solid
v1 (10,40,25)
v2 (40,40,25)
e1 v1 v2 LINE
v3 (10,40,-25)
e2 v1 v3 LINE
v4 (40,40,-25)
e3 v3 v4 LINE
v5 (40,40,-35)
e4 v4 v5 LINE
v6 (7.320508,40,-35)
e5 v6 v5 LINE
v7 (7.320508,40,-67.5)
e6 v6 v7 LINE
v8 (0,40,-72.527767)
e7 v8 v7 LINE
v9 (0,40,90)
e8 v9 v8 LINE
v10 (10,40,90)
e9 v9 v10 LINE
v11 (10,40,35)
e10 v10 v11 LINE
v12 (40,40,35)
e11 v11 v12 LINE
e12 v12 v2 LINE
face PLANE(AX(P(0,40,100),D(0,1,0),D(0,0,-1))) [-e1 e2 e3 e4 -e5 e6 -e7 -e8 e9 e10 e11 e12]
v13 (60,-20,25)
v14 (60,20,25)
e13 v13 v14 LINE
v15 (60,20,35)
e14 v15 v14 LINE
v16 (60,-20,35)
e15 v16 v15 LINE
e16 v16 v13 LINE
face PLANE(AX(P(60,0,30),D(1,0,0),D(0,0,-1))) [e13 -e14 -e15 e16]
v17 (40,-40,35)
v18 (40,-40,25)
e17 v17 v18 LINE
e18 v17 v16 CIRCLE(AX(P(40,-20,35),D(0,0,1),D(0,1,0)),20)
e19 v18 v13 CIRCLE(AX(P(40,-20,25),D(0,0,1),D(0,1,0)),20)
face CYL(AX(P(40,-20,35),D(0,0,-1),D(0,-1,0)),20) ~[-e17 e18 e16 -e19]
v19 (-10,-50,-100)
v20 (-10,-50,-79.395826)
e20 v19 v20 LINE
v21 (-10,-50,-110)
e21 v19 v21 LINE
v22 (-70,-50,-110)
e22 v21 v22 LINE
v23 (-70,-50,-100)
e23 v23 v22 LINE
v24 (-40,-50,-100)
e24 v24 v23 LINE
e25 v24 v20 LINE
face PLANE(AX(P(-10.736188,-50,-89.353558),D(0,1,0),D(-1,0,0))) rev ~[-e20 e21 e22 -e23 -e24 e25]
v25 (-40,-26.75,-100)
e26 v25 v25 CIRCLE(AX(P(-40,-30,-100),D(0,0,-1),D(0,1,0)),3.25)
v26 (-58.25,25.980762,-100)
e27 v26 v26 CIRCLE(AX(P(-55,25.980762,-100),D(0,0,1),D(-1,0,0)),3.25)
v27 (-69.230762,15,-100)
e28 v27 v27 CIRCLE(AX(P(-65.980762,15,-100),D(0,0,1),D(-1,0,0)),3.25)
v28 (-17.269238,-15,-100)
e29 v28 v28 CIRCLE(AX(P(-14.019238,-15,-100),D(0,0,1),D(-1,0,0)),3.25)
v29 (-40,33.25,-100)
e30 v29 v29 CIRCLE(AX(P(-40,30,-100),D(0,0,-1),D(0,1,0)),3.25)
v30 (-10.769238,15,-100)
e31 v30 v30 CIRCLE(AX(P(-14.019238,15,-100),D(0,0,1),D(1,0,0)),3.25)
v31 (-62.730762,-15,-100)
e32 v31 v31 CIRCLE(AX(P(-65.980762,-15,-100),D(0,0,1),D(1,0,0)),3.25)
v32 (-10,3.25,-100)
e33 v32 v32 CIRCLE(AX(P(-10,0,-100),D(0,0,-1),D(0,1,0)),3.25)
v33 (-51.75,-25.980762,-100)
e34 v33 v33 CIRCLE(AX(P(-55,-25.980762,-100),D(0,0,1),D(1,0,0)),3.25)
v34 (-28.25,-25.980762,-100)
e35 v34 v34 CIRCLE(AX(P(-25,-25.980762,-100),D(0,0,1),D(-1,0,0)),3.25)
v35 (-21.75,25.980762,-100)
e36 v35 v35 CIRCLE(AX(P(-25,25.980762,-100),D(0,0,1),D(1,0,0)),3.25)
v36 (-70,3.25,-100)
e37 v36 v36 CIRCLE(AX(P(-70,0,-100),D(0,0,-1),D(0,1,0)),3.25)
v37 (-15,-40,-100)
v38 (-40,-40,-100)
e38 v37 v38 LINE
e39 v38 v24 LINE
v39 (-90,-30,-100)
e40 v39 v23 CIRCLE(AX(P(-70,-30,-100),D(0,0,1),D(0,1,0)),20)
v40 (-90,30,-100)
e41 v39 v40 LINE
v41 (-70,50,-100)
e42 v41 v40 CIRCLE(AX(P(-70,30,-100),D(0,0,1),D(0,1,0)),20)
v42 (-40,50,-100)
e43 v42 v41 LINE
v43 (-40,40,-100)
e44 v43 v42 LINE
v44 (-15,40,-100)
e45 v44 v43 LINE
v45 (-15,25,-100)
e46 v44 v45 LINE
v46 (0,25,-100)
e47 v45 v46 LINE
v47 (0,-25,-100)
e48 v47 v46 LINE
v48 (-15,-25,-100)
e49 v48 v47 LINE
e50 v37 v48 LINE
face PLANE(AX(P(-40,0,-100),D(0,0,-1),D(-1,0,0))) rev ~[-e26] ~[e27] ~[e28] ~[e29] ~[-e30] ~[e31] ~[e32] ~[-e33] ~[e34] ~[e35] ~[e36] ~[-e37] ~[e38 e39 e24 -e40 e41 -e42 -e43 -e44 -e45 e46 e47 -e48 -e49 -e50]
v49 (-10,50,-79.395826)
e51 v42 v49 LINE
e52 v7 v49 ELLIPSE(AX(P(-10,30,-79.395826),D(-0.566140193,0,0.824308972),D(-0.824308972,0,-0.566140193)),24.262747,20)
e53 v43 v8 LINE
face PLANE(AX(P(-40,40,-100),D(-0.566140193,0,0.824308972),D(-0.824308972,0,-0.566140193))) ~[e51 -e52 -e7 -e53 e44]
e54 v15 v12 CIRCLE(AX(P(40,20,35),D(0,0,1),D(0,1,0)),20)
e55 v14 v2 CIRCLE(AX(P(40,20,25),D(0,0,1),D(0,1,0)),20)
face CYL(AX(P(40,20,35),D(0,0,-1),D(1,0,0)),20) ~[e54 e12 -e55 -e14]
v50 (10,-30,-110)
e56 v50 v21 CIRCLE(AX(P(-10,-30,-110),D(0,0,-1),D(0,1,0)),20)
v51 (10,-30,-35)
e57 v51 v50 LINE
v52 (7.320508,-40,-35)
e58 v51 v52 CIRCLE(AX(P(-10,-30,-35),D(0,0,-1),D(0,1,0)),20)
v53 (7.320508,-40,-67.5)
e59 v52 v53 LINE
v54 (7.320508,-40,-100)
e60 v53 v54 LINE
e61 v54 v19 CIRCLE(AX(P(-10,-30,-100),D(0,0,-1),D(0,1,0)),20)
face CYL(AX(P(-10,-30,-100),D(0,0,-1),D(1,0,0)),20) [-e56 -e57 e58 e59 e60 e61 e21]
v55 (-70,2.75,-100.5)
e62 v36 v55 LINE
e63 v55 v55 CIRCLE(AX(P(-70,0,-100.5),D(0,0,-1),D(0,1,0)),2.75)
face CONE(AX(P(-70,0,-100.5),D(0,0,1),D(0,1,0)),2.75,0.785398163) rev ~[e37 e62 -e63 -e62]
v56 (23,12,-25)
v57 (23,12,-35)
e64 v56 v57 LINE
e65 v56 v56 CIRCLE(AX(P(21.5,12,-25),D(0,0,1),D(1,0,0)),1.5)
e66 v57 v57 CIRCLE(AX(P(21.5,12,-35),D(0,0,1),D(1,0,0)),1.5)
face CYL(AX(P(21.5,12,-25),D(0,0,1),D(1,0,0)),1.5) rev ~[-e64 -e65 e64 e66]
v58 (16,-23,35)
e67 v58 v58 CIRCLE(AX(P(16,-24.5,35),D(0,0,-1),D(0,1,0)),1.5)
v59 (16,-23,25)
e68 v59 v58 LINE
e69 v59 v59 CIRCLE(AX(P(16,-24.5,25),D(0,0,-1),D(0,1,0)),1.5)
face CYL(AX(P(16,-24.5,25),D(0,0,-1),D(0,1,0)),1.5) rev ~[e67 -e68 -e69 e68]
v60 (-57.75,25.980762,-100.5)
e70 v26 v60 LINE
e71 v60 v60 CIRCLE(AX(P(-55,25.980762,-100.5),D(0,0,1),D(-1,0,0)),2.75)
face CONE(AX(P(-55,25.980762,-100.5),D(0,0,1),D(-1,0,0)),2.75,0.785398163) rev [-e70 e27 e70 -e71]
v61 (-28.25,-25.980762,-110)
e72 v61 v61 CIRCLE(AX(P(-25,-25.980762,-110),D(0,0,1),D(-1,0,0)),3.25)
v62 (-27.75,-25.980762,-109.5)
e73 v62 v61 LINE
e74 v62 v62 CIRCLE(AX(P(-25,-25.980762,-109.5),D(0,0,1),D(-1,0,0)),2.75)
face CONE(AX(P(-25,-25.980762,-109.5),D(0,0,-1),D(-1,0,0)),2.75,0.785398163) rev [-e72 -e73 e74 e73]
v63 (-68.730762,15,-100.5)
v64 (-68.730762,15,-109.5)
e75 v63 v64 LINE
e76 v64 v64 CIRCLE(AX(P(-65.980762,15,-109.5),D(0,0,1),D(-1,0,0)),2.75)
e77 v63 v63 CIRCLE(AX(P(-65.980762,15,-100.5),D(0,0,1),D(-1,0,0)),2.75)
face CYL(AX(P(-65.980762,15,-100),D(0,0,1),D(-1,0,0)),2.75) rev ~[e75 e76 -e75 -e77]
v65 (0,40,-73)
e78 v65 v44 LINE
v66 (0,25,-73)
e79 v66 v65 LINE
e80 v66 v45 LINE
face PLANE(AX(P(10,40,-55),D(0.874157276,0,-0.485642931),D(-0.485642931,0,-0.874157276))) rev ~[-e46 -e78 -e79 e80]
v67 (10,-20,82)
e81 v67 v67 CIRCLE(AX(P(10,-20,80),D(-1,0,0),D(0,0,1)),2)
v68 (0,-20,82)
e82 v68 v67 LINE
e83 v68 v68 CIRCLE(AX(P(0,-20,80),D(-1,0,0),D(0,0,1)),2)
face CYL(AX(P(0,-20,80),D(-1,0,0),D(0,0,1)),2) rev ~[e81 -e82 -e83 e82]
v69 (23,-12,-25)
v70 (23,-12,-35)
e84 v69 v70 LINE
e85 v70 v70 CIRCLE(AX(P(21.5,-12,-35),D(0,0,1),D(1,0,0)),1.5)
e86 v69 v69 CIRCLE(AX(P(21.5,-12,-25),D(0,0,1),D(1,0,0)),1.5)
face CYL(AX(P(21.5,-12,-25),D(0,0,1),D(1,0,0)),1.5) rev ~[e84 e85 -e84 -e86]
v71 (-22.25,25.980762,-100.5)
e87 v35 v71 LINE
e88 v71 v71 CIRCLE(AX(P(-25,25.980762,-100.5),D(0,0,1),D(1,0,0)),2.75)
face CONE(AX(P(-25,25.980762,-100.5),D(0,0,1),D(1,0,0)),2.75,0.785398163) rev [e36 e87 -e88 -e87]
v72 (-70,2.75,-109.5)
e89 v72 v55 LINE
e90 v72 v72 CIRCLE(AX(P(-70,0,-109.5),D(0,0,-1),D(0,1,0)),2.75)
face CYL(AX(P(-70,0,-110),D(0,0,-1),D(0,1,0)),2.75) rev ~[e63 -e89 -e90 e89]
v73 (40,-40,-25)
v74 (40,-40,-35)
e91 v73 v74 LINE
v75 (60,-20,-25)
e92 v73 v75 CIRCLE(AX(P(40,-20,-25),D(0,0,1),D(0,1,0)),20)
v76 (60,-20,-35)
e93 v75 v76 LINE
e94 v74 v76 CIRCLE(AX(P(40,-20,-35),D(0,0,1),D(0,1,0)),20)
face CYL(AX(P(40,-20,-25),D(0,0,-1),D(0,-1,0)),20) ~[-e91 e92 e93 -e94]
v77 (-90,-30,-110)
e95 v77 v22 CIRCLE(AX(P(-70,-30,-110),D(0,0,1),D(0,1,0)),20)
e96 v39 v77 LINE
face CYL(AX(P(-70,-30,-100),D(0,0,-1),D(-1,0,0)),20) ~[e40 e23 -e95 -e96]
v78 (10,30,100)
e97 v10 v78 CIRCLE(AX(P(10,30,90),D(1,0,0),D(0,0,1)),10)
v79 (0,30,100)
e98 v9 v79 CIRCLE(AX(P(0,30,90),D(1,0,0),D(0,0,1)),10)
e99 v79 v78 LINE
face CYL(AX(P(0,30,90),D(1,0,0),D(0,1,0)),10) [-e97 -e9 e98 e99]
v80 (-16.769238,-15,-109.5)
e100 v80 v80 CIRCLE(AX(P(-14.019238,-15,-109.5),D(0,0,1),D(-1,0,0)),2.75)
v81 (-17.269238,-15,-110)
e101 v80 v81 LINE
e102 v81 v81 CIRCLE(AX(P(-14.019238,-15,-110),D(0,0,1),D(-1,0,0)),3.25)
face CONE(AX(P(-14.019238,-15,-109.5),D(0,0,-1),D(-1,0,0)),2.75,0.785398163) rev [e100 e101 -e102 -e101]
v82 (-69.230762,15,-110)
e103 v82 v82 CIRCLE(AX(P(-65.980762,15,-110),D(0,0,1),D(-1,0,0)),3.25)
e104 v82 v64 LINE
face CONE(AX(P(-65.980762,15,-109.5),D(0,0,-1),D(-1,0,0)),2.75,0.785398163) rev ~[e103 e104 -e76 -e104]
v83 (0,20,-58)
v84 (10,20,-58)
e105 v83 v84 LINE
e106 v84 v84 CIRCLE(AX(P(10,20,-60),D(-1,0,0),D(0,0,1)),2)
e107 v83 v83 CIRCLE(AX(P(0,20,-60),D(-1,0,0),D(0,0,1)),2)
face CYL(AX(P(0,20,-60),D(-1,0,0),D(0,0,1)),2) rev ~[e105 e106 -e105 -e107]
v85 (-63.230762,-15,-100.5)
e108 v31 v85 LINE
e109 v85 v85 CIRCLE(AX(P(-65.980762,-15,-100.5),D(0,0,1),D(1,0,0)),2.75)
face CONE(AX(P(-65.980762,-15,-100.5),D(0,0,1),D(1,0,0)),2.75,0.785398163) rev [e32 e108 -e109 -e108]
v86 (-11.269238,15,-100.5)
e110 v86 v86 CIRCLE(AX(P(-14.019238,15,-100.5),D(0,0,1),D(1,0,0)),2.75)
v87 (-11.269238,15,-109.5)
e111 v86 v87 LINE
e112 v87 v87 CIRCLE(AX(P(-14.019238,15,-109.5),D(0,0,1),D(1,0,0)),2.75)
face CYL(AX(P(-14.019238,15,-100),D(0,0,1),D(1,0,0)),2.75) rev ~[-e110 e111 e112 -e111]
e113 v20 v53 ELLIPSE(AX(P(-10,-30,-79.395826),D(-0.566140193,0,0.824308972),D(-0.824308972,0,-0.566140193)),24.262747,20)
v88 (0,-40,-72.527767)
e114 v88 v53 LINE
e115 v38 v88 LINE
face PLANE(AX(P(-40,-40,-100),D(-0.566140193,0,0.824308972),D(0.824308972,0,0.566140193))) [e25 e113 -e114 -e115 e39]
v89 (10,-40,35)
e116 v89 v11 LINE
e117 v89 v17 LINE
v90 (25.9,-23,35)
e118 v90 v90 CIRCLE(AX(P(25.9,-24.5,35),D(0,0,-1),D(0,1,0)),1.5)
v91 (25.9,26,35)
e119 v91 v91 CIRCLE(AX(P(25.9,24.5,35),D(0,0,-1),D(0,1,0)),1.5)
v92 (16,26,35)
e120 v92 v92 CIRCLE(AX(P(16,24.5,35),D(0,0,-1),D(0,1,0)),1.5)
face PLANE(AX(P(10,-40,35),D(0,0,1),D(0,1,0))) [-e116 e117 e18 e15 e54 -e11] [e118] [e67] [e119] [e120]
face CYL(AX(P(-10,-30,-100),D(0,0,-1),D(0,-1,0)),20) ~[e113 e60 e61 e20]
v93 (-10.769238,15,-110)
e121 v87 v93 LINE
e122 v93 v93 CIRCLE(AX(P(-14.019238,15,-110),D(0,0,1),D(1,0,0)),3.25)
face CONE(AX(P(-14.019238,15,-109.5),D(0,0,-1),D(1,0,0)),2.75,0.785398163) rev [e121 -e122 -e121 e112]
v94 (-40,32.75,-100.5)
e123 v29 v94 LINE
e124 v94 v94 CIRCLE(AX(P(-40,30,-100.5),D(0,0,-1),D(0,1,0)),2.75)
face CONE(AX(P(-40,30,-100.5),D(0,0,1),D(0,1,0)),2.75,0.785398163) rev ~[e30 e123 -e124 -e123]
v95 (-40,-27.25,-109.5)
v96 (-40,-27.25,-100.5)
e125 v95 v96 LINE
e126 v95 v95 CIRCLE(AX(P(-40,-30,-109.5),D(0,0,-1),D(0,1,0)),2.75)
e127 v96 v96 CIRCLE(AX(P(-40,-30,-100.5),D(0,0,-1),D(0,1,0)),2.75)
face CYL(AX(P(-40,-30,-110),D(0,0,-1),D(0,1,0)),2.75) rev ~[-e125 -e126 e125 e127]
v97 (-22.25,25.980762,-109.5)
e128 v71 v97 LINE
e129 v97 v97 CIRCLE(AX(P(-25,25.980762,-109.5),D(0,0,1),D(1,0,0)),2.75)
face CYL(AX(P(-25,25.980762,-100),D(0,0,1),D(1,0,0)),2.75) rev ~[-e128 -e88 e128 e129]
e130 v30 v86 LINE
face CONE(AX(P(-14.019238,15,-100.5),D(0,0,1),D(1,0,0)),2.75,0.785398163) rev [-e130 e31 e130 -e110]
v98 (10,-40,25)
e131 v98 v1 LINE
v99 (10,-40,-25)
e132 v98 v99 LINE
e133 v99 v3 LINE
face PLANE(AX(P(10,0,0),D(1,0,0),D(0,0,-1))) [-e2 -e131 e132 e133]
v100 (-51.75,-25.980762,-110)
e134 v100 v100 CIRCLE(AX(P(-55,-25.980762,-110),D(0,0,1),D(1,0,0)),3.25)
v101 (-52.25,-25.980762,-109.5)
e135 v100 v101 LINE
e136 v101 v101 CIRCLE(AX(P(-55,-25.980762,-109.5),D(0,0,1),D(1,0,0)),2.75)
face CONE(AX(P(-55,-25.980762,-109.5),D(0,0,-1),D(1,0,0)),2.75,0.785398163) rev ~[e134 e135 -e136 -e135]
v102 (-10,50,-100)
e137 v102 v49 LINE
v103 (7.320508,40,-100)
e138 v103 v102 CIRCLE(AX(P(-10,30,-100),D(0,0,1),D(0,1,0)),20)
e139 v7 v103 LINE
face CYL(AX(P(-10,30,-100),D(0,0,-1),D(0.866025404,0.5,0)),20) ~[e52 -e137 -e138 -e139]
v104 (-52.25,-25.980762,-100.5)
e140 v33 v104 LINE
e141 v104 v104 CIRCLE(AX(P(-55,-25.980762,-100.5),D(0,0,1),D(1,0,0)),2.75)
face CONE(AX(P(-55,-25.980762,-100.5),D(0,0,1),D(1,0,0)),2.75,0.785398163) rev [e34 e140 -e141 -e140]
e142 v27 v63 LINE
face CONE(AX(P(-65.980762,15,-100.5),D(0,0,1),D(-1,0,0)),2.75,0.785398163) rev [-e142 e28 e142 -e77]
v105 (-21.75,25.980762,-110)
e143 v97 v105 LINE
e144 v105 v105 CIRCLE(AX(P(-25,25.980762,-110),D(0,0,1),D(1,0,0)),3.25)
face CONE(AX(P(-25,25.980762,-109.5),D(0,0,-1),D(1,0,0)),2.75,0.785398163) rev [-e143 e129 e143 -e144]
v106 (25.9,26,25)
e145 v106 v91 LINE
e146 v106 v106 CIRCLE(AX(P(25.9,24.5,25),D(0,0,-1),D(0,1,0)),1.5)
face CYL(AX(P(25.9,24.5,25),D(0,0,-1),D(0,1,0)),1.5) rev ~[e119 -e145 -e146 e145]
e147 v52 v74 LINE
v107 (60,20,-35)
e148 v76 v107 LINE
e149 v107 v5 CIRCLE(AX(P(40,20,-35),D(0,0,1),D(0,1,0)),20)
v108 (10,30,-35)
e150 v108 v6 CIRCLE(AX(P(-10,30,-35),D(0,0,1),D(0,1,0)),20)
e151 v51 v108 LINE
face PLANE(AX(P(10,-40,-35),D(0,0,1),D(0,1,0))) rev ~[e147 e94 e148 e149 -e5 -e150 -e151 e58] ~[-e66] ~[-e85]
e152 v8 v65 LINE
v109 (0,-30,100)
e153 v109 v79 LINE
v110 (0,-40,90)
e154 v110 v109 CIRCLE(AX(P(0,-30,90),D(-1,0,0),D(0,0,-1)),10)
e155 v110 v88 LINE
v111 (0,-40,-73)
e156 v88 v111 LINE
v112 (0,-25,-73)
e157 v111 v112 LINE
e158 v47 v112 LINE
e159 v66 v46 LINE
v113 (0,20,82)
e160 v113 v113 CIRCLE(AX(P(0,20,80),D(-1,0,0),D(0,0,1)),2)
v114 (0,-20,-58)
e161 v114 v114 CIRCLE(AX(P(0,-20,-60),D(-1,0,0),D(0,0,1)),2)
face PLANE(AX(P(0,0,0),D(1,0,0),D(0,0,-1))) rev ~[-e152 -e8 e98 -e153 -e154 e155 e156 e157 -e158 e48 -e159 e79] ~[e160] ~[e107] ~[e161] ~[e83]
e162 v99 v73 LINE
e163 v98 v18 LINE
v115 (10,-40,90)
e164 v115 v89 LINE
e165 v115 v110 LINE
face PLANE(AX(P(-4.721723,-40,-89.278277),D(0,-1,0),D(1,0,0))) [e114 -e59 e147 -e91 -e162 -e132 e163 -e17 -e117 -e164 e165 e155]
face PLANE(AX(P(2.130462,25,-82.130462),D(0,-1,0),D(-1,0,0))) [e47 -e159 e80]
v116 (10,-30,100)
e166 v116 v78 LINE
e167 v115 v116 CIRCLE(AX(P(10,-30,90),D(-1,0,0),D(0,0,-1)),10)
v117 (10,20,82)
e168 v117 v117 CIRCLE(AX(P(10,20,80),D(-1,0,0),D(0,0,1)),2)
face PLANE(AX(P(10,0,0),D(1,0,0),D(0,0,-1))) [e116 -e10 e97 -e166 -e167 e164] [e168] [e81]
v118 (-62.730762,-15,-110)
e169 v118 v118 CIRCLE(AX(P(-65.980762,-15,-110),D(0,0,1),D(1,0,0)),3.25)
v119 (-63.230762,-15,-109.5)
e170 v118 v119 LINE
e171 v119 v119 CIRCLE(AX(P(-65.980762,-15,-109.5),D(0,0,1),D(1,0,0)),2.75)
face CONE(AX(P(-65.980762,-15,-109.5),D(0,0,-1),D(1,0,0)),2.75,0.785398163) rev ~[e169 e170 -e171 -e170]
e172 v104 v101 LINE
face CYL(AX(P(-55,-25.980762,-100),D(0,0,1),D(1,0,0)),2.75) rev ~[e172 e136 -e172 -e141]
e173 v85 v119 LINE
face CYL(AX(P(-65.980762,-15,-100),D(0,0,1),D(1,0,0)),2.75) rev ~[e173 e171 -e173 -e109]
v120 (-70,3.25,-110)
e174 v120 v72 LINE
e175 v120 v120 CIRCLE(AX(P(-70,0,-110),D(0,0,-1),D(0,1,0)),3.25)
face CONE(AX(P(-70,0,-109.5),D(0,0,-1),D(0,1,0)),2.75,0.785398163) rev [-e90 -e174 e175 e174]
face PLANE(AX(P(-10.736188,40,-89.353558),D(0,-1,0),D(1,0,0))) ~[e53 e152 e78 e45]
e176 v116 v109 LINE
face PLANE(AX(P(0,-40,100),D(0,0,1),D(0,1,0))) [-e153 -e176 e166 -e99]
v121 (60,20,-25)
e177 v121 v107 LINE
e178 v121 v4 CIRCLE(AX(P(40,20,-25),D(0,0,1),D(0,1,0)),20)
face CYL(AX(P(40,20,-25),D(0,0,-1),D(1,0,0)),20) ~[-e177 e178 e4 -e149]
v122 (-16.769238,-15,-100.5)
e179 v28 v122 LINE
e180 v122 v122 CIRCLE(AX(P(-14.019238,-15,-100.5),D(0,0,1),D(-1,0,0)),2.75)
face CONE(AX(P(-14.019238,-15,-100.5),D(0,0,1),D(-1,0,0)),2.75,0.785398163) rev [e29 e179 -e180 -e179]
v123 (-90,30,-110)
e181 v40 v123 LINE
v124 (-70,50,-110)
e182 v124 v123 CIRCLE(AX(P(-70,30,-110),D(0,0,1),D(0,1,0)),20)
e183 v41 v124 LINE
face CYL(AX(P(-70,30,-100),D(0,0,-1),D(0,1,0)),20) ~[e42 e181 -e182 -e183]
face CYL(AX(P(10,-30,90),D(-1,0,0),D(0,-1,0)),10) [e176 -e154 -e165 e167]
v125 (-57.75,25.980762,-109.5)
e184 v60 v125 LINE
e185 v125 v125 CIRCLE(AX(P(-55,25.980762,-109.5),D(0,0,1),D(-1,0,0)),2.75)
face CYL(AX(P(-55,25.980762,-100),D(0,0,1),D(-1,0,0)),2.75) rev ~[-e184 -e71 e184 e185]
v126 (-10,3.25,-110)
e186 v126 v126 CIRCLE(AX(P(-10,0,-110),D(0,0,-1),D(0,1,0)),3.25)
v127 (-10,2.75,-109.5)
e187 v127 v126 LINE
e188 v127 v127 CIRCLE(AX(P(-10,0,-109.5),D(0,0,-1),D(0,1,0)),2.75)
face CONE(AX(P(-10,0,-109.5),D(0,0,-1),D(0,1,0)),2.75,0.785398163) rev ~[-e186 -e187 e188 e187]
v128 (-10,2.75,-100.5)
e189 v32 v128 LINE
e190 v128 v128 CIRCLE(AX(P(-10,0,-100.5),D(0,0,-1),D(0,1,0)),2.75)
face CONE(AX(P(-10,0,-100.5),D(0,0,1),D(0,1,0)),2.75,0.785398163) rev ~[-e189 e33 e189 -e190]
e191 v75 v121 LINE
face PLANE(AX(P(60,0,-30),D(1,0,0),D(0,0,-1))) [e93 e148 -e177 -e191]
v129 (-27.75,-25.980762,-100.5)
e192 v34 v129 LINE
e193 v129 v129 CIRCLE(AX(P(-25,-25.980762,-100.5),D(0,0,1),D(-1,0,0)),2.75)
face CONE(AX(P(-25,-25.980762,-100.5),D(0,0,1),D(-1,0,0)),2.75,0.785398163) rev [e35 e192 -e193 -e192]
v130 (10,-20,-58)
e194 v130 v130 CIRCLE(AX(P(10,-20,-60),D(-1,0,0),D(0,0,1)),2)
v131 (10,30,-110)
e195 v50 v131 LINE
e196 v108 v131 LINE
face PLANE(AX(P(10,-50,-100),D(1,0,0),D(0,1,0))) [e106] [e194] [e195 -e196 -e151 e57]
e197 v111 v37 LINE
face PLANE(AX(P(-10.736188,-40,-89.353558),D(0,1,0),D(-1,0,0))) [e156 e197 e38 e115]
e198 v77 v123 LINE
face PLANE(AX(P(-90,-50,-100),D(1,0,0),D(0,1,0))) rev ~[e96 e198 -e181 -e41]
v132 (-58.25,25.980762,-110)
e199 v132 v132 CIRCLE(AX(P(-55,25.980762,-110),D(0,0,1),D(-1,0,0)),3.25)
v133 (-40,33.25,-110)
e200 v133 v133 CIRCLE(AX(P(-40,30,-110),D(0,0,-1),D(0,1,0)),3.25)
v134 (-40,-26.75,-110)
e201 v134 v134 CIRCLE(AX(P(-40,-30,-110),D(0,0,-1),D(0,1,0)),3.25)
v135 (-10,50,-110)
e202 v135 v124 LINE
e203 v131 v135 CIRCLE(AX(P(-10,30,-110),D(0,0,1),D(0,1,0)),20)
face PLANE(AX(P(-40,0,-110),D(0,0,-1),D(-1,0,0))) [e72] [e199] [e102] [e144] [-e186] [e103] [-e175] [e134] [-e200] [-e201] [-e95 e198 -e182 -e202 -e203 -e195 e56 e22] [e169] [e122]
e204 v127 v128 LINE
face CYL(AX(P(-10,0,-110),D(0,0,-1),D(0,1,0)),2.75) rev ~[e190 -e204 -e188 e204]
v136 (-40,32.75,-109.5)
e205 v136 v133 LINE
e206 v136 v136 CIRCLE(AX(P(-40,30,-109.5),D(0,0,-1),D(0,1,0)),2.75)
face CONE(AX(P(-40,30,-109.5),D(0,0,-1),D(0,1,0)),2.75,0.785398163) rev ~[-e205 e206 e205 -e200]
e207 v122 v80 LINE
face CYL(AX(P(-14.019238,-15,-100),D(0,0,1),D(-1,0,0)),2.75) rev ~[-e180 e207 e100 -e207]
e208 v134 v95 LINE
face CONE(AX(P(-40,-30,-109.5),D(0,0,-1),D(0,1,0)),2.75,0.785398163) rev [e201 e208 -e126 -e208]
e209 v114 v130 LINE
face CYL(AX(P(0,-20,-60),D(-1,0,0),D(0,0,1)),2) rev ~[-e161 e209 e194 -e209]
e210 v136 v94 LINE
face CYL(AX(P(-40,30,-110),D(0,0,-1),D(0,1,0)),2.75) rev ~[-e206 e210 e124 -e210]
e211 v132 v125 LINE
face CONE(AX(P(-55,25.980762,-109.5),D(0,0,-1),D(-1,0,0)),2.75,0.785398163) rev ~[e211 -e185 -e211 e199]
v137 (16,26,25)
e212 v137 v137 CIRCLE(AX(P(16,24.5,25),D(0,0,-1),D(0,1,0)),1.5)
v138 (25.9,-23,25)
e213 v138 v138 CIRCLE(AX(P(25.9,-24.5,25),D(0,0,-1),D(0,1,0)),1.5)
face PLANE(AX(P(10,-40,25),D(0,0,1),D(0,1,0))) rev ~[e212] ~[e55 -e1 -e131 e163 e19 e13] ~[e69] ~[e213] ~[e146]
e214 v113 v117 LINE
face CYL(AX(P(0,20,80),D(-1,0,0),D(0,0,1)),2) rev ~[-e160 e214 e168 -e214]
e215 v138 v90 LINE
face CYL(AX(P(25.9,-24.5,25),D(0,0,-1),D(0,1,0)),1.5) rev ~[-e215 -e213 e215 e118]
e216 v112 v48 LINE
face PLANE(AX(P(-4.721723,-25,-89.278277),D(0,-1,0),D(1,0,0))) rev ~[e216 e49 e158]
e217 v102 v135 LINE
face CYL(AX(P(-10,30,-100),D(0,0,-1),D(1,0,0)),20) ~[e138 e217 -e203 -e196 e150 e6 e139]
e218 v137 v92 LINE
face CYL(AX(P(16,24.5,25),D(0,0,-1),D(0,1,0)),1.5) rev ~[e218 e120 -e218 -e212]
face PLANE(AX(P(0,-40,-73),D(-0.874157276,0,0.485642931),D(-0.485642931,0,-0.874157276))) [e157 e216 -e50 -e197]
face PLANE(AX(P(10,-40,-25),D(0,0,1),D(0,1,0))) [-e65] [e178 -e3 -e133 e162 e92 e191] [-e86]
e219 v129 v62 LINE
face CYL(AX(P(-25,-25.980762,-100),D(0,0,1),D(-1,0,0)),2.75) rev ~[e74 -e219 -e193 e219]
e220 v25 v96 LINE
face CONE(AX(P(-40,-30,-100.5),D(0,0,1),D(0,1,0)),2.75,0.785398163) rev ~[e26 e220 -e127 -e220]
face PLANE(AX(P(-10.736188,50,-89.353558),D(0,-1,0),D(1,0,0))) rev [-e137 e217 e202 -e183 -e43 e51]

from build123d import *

# Parameters (mm, degrees)
SKETCH_1_W           = 200
SKETCH_1_H           = 80
EXTRUDE_1_DEPTH      = 10
SKETCH_2_W           = 10
SKETCH_2_H           = 80
EXTRUDE_2_DEPTH      = 50
SKETCH_3_W           = 100
SKETCH_3_H           = 100
EXTRUDE_3_DEPTH      = 10
EXTRUDE_4_DEPTH      = 15
EXTRUDE_5_DEPTH      = 15
FILLET_1_R           = 20
SKETCH_7_R           = 2.75
CUT_EXTRUDE_1_DEPTH  = 15
CUT_EXTRUDE_START    = -60
SKETCH_8_R           = 1.5
CUT_EXTRUDE_2_DEPTH  = 15
SKETCH_9_R           = 1.5
CUT_EXTRUDE_3_DEPTH  = 15
FILLET_2_R           = 20
SKETCH_16_R          = 2.75
CUT_EXTRUDE_7_DEPTH  = 225.944437584
CHAMFER_2_SIZE       = 0.5
CHAMFER_3_SIZE       = 0.5
EXTRUDE_8_DEPTH      = 10
CUT_EXTRUDE_8_DEPTH  = 225.944437584
CUT_EXTRUDE_9_DEPTH  = 225.944437584
SKETCH_20_R          = 2
CUT_EXTRUDE_10_DEPTH = 151.665191733
FILLET_3_R           = 10


with BuildPart() as part:
    # 草图1 → 凸台-拉伸1 (new body)
    with BuildSketch(Plane(origin=(0, 0, 0), x_dir=(0, 0, -1), z_dir=(1, 0, 0))):
        Rectangle(SKETCH_1_W, SKETCH_1_H)
    extrude(amount=EXTRUDE_1_DEPTH)

    # 草图2 → 凸台-拉伸2 (add)
    with BuildSketch(Plane(origin=(10, 0, 0), x_dir=(0, 0, -1), z_dir=(1, 0, 0))):
        with Locations((-30, 0)):
            Rectangle(SKETCH_2_W, SKETCH_2_H)
        with Locations((30, 0)):
            Rectangle(SKETCH_2_W, SKETCH_2_H)
    extrude(amount=EXTRUDE_2_DEPTH)

    # 草图3 → 凸台-拉伸3 (add)
    with BuildSketch(Plane(origin=(0, 0, -100), x_dir=(-1, 0, 0), z_dir=(0, 0, -1))):
        with Locations((40, 0)):
            Rectangle(SKETCH_3_W, SKETCH_3_H)
    extrude(amount=EXTRUDE_3_DEPTH)

    # 草图5 → 凸台-拉伸4 (add)
    with BuildSketch(Plane(origin=(0, 40, 0), x_dir=(1, 0, 0), z_dir=(0, 1, 0))):
        Polygon((10, 55), (-15, 100), (10, 100), align=None)
    extrude(amount=-EXTRUDE_4_DEPTH)

    # 草图6 → 凸台-拉伸5 (add)
    with BuildSketch(Plane.XZ.offset(40)):
        Polygon((-15, -100), (0, -100), (0, -73), align=None)
    extrude(amount=-EXTRUDE_5_DEPTH)

    # 圆角1
    fillet_1_edges = [part.edges().sort_by_distance(p)[0] for p in [
        (10, 50, -105),
        (10, -50, -105),
        (-90, 50, -105),
        (-90, -50, -105),
    ]]
    fillet(fillet_1_edges, radius=FILLET_1_R)

    # 草图7 → 切除-拉伸1 (cut)
    with BuildSketch(Plane(origin=(0, 0, -110), x_dir=(-1, 0, 0), z_dir=(0, 0, -1))):
        with Locations(Location((40, 30, 0), (0, 0, 90))):
            Circle(SKETCH_7_R)
        with Locations(Location((10, 0, 0), (0, 0, 90))):
            Circle(SKETCH_7_R)
        with Locations(Location((70, 0, 0), (0, 0, 90))):
            Circle(SKETCH_7_R)
        with Locations(Location((40, -30, 0), (0, 0, 90))):
            Circle(SKETCH_7_R)
    extrude(amount=-CUT_EXTRUDE_1_DEPTH, mode=Mode.SUBTRACT)

    # 草图8 → 切除-拉伸2 (cut)
    with BuildSketch(Plane(origin=(0, 0, -35), x_dir=(-1, 0, 0), z_dir=(0, 0, -1)).offset(CUT_EXTRUDE_START)):
        with Locations(Location((-16, 24.5, 0), (0, 0, 90))):
            Circle(SKETCH_8_R)
        with Locations(Location((-25.9, 24.5, 0), (0, 0, 90))):
            Circle(SKETCH_8_R)
        with Locations(Location((-16, -24.5, 0), (0, 0, 90))):
            Circle(SKETCH_8_R)
        with Locations(Location((-25.9, -24.5, 0), (0, 0, 90))):
            Circle(SKETCH_8_R)
    extrude(amount=-CUT_EXTRUDE_2_DEPTH, mode=Mode.SUBTRACT)

    # 草图9 → 切除-拉伸3 (cut)
    with BuildSketch(Plane.XY.offset(35).offset(CUT_EXTRUDE_START)):
        with Locations((21.5, 12)):
            Circle(SKETCH_9_R)
        with Locations((21.5, -12)):
            Circle(SKETCH_9_R)
    extrude(amount=-CUT_EXTRUDE_3_DEPTH, mode=Mode.SUBTRACT)

    # 圆角2
    fillet_2_edges = [part.edges().sort_by_distance(p)[0] for p in [
        (60, -40, 30),
        (60, 40, 30),
        (60, -40, -30),
        (60, 40, -30),
    ]]
    fillet(fillet_2_edges, radius=FILLET_2_R)

    # 草图16 → 切除-拉伸7 (cut, through all)
    with BuildSketch(Plane.XY.offset(-100)):
        with Locations((-25, 25.980762114)):
            Circle(SKETCH_16_R)
        with Locations((-14.019237886, 15)):
            Circle(SKETCH_16_R)
        with Locations(Location((-25, -25.980762114, 0), (0, 0, 180))):
            Circle(SKETCH_16_R)
        with Locations(Location((-14.019237886, -15, 0), (0, 0, 180))):
            Circle(SKETCH_16_R)
        with Locations(Location((-55, 25.980762114, 0), (0, 0, 180))):
            Circle(SKETCH_16_R)
        with Locations(Location((-65.980762114, 15, 0), (0, 0, 180))):
            Circle(SKETCH_16_R)
        with Locations((-55, -25.980762114)):
            Circle(SKETCH_16_R)
        with Locations((-65.980762114, -15)):
            Circle(SKETCH_16_R)
    extrude(amount=-CUT_EXTRUDE_7_DEPTH, mode=Mode.SUBTRACT)

    # 倒角2
    chamfer_2_edges = [part.edges().sort_by_distance(p)[0] for p in [
        (-70, -2.75, -100),
        (-70, -2.75, -110),
        (-40, -32.75, -100),
        (-40, -32.75, -110),
        (-52.25, 25.980762114, -110),
        (-52.25, 25.980762114, -100),
        (-68.730762114, -15, -110),
        (-68.730762114, -15, -100),
        (-57.75, -25.980762114, -110),
        (-57.75, -25.980762114, -100),
        (-63.230762114, 15, -110),
        (-63.230762114, 15, -100),
    ]]
    chamfer(chamfer_2_edges, length=CHAMFER_2_SIZE)

    # 倒角3
    chamfer_3_edges = [part.edges().sort_by_distance(p)[0] for p in [
        (-40, 27.25, -100),
        (-40, 27.25, -110),
        (-10, -2.75, -100),
        (-10, -2.75, -110),
        (-11.269237886, -15, -110),
        (-11.269237886, -15, -100),
        (-22.25, -25.980762114, -110),
        (-22.25, -25.980762114, -100),
        (-16.769237886, 15, -110),
        (-16.769237886, 15, -100),
        (-27.75, 25.980762114, -110),
        (-27.75, 25.980762114, -100),
    ]]
    chamfer(chamfer_3_edges, length=CHAMFER_3_SIZE)

    # 草图17 → 凸台-拉伸8 (add)
    with BuildSketch(Plane.XZ.offset(40)):
        Polygon((7.320508076, -100), (-40, -100), (7.320508076, -67.5), align=None)
    extrude_8 = extrude(amount=EXTRUDE_8_DEPTH)

    # 草图18 → 切除-拉伸8 (cut, through all)
    with BuildSketch(Plane(origin=(0, 0, -100), x_dir=(-1, 0, 0), z_dir=(0, 0, -1))):
        with BuildLine():
            Line((-7.320508076, -40), (-7.320508076, -50))
            Line((-7.320508076, -50), (10, -50))
            ThreePointArc((10, -50), (0, -47.320508076), (-7.320508076, -40))
        make_face()
    extrude(amount=-CUT_EXTRUDE_8_DEPTH, mode=Mode.SUBTRACT)

    # 镜向2: 凸台-拉伸8 across plane
    add(extrude_8.mirror(Plane.ZX))

    # 草图19 → 切除-拉伸9 (cut, through all)
    with BuildSketch(Plane(origin=(0, 0, -100), x_dir=(-1, 0, 0), z_dir=(0, 0, -1))):
        with BuildLine():
            Line((-7.320508076, 50), (-7.320508076, 40))
            ThreePointArc((-7.320508076, 40), (0, 47.320508076), (10, 50))
            Line((10, 50), (-7.320508076, 50))
        make_face()
    extrude(amount=-CUT_EXTRUDE_9_DEPTH, mode=Mode.SUBTRACT)

    # 草图20 → 切除-拉伸10 (cut, through all)
    with BuildSketch(Plane.ZY):
        with Locations((80, 20)):
            Circle(SKETCH_20_R)
        with Locations((80, -20)):
            Circle(SKETCH_20_R)
        with Locations((-60, 20)):
            Circle(SKETCH_20_R)
        with Locations((-60, -20)):
            Circle(SKETCH_20_R)
    extrude(amount=-CUT_EXTRUDE_10_DEPTH, mode=Mode.SUBTRACT)

    # 圆角3
    fillet_3_edges = [part.edges().sort_by_distance(p)[0] for p in [
        (5, 40, 100),
        (5, -40, 100),
    ]]
    fillet(fillet_3_edges, radius=FILLET_3_R)


solid = part.part
